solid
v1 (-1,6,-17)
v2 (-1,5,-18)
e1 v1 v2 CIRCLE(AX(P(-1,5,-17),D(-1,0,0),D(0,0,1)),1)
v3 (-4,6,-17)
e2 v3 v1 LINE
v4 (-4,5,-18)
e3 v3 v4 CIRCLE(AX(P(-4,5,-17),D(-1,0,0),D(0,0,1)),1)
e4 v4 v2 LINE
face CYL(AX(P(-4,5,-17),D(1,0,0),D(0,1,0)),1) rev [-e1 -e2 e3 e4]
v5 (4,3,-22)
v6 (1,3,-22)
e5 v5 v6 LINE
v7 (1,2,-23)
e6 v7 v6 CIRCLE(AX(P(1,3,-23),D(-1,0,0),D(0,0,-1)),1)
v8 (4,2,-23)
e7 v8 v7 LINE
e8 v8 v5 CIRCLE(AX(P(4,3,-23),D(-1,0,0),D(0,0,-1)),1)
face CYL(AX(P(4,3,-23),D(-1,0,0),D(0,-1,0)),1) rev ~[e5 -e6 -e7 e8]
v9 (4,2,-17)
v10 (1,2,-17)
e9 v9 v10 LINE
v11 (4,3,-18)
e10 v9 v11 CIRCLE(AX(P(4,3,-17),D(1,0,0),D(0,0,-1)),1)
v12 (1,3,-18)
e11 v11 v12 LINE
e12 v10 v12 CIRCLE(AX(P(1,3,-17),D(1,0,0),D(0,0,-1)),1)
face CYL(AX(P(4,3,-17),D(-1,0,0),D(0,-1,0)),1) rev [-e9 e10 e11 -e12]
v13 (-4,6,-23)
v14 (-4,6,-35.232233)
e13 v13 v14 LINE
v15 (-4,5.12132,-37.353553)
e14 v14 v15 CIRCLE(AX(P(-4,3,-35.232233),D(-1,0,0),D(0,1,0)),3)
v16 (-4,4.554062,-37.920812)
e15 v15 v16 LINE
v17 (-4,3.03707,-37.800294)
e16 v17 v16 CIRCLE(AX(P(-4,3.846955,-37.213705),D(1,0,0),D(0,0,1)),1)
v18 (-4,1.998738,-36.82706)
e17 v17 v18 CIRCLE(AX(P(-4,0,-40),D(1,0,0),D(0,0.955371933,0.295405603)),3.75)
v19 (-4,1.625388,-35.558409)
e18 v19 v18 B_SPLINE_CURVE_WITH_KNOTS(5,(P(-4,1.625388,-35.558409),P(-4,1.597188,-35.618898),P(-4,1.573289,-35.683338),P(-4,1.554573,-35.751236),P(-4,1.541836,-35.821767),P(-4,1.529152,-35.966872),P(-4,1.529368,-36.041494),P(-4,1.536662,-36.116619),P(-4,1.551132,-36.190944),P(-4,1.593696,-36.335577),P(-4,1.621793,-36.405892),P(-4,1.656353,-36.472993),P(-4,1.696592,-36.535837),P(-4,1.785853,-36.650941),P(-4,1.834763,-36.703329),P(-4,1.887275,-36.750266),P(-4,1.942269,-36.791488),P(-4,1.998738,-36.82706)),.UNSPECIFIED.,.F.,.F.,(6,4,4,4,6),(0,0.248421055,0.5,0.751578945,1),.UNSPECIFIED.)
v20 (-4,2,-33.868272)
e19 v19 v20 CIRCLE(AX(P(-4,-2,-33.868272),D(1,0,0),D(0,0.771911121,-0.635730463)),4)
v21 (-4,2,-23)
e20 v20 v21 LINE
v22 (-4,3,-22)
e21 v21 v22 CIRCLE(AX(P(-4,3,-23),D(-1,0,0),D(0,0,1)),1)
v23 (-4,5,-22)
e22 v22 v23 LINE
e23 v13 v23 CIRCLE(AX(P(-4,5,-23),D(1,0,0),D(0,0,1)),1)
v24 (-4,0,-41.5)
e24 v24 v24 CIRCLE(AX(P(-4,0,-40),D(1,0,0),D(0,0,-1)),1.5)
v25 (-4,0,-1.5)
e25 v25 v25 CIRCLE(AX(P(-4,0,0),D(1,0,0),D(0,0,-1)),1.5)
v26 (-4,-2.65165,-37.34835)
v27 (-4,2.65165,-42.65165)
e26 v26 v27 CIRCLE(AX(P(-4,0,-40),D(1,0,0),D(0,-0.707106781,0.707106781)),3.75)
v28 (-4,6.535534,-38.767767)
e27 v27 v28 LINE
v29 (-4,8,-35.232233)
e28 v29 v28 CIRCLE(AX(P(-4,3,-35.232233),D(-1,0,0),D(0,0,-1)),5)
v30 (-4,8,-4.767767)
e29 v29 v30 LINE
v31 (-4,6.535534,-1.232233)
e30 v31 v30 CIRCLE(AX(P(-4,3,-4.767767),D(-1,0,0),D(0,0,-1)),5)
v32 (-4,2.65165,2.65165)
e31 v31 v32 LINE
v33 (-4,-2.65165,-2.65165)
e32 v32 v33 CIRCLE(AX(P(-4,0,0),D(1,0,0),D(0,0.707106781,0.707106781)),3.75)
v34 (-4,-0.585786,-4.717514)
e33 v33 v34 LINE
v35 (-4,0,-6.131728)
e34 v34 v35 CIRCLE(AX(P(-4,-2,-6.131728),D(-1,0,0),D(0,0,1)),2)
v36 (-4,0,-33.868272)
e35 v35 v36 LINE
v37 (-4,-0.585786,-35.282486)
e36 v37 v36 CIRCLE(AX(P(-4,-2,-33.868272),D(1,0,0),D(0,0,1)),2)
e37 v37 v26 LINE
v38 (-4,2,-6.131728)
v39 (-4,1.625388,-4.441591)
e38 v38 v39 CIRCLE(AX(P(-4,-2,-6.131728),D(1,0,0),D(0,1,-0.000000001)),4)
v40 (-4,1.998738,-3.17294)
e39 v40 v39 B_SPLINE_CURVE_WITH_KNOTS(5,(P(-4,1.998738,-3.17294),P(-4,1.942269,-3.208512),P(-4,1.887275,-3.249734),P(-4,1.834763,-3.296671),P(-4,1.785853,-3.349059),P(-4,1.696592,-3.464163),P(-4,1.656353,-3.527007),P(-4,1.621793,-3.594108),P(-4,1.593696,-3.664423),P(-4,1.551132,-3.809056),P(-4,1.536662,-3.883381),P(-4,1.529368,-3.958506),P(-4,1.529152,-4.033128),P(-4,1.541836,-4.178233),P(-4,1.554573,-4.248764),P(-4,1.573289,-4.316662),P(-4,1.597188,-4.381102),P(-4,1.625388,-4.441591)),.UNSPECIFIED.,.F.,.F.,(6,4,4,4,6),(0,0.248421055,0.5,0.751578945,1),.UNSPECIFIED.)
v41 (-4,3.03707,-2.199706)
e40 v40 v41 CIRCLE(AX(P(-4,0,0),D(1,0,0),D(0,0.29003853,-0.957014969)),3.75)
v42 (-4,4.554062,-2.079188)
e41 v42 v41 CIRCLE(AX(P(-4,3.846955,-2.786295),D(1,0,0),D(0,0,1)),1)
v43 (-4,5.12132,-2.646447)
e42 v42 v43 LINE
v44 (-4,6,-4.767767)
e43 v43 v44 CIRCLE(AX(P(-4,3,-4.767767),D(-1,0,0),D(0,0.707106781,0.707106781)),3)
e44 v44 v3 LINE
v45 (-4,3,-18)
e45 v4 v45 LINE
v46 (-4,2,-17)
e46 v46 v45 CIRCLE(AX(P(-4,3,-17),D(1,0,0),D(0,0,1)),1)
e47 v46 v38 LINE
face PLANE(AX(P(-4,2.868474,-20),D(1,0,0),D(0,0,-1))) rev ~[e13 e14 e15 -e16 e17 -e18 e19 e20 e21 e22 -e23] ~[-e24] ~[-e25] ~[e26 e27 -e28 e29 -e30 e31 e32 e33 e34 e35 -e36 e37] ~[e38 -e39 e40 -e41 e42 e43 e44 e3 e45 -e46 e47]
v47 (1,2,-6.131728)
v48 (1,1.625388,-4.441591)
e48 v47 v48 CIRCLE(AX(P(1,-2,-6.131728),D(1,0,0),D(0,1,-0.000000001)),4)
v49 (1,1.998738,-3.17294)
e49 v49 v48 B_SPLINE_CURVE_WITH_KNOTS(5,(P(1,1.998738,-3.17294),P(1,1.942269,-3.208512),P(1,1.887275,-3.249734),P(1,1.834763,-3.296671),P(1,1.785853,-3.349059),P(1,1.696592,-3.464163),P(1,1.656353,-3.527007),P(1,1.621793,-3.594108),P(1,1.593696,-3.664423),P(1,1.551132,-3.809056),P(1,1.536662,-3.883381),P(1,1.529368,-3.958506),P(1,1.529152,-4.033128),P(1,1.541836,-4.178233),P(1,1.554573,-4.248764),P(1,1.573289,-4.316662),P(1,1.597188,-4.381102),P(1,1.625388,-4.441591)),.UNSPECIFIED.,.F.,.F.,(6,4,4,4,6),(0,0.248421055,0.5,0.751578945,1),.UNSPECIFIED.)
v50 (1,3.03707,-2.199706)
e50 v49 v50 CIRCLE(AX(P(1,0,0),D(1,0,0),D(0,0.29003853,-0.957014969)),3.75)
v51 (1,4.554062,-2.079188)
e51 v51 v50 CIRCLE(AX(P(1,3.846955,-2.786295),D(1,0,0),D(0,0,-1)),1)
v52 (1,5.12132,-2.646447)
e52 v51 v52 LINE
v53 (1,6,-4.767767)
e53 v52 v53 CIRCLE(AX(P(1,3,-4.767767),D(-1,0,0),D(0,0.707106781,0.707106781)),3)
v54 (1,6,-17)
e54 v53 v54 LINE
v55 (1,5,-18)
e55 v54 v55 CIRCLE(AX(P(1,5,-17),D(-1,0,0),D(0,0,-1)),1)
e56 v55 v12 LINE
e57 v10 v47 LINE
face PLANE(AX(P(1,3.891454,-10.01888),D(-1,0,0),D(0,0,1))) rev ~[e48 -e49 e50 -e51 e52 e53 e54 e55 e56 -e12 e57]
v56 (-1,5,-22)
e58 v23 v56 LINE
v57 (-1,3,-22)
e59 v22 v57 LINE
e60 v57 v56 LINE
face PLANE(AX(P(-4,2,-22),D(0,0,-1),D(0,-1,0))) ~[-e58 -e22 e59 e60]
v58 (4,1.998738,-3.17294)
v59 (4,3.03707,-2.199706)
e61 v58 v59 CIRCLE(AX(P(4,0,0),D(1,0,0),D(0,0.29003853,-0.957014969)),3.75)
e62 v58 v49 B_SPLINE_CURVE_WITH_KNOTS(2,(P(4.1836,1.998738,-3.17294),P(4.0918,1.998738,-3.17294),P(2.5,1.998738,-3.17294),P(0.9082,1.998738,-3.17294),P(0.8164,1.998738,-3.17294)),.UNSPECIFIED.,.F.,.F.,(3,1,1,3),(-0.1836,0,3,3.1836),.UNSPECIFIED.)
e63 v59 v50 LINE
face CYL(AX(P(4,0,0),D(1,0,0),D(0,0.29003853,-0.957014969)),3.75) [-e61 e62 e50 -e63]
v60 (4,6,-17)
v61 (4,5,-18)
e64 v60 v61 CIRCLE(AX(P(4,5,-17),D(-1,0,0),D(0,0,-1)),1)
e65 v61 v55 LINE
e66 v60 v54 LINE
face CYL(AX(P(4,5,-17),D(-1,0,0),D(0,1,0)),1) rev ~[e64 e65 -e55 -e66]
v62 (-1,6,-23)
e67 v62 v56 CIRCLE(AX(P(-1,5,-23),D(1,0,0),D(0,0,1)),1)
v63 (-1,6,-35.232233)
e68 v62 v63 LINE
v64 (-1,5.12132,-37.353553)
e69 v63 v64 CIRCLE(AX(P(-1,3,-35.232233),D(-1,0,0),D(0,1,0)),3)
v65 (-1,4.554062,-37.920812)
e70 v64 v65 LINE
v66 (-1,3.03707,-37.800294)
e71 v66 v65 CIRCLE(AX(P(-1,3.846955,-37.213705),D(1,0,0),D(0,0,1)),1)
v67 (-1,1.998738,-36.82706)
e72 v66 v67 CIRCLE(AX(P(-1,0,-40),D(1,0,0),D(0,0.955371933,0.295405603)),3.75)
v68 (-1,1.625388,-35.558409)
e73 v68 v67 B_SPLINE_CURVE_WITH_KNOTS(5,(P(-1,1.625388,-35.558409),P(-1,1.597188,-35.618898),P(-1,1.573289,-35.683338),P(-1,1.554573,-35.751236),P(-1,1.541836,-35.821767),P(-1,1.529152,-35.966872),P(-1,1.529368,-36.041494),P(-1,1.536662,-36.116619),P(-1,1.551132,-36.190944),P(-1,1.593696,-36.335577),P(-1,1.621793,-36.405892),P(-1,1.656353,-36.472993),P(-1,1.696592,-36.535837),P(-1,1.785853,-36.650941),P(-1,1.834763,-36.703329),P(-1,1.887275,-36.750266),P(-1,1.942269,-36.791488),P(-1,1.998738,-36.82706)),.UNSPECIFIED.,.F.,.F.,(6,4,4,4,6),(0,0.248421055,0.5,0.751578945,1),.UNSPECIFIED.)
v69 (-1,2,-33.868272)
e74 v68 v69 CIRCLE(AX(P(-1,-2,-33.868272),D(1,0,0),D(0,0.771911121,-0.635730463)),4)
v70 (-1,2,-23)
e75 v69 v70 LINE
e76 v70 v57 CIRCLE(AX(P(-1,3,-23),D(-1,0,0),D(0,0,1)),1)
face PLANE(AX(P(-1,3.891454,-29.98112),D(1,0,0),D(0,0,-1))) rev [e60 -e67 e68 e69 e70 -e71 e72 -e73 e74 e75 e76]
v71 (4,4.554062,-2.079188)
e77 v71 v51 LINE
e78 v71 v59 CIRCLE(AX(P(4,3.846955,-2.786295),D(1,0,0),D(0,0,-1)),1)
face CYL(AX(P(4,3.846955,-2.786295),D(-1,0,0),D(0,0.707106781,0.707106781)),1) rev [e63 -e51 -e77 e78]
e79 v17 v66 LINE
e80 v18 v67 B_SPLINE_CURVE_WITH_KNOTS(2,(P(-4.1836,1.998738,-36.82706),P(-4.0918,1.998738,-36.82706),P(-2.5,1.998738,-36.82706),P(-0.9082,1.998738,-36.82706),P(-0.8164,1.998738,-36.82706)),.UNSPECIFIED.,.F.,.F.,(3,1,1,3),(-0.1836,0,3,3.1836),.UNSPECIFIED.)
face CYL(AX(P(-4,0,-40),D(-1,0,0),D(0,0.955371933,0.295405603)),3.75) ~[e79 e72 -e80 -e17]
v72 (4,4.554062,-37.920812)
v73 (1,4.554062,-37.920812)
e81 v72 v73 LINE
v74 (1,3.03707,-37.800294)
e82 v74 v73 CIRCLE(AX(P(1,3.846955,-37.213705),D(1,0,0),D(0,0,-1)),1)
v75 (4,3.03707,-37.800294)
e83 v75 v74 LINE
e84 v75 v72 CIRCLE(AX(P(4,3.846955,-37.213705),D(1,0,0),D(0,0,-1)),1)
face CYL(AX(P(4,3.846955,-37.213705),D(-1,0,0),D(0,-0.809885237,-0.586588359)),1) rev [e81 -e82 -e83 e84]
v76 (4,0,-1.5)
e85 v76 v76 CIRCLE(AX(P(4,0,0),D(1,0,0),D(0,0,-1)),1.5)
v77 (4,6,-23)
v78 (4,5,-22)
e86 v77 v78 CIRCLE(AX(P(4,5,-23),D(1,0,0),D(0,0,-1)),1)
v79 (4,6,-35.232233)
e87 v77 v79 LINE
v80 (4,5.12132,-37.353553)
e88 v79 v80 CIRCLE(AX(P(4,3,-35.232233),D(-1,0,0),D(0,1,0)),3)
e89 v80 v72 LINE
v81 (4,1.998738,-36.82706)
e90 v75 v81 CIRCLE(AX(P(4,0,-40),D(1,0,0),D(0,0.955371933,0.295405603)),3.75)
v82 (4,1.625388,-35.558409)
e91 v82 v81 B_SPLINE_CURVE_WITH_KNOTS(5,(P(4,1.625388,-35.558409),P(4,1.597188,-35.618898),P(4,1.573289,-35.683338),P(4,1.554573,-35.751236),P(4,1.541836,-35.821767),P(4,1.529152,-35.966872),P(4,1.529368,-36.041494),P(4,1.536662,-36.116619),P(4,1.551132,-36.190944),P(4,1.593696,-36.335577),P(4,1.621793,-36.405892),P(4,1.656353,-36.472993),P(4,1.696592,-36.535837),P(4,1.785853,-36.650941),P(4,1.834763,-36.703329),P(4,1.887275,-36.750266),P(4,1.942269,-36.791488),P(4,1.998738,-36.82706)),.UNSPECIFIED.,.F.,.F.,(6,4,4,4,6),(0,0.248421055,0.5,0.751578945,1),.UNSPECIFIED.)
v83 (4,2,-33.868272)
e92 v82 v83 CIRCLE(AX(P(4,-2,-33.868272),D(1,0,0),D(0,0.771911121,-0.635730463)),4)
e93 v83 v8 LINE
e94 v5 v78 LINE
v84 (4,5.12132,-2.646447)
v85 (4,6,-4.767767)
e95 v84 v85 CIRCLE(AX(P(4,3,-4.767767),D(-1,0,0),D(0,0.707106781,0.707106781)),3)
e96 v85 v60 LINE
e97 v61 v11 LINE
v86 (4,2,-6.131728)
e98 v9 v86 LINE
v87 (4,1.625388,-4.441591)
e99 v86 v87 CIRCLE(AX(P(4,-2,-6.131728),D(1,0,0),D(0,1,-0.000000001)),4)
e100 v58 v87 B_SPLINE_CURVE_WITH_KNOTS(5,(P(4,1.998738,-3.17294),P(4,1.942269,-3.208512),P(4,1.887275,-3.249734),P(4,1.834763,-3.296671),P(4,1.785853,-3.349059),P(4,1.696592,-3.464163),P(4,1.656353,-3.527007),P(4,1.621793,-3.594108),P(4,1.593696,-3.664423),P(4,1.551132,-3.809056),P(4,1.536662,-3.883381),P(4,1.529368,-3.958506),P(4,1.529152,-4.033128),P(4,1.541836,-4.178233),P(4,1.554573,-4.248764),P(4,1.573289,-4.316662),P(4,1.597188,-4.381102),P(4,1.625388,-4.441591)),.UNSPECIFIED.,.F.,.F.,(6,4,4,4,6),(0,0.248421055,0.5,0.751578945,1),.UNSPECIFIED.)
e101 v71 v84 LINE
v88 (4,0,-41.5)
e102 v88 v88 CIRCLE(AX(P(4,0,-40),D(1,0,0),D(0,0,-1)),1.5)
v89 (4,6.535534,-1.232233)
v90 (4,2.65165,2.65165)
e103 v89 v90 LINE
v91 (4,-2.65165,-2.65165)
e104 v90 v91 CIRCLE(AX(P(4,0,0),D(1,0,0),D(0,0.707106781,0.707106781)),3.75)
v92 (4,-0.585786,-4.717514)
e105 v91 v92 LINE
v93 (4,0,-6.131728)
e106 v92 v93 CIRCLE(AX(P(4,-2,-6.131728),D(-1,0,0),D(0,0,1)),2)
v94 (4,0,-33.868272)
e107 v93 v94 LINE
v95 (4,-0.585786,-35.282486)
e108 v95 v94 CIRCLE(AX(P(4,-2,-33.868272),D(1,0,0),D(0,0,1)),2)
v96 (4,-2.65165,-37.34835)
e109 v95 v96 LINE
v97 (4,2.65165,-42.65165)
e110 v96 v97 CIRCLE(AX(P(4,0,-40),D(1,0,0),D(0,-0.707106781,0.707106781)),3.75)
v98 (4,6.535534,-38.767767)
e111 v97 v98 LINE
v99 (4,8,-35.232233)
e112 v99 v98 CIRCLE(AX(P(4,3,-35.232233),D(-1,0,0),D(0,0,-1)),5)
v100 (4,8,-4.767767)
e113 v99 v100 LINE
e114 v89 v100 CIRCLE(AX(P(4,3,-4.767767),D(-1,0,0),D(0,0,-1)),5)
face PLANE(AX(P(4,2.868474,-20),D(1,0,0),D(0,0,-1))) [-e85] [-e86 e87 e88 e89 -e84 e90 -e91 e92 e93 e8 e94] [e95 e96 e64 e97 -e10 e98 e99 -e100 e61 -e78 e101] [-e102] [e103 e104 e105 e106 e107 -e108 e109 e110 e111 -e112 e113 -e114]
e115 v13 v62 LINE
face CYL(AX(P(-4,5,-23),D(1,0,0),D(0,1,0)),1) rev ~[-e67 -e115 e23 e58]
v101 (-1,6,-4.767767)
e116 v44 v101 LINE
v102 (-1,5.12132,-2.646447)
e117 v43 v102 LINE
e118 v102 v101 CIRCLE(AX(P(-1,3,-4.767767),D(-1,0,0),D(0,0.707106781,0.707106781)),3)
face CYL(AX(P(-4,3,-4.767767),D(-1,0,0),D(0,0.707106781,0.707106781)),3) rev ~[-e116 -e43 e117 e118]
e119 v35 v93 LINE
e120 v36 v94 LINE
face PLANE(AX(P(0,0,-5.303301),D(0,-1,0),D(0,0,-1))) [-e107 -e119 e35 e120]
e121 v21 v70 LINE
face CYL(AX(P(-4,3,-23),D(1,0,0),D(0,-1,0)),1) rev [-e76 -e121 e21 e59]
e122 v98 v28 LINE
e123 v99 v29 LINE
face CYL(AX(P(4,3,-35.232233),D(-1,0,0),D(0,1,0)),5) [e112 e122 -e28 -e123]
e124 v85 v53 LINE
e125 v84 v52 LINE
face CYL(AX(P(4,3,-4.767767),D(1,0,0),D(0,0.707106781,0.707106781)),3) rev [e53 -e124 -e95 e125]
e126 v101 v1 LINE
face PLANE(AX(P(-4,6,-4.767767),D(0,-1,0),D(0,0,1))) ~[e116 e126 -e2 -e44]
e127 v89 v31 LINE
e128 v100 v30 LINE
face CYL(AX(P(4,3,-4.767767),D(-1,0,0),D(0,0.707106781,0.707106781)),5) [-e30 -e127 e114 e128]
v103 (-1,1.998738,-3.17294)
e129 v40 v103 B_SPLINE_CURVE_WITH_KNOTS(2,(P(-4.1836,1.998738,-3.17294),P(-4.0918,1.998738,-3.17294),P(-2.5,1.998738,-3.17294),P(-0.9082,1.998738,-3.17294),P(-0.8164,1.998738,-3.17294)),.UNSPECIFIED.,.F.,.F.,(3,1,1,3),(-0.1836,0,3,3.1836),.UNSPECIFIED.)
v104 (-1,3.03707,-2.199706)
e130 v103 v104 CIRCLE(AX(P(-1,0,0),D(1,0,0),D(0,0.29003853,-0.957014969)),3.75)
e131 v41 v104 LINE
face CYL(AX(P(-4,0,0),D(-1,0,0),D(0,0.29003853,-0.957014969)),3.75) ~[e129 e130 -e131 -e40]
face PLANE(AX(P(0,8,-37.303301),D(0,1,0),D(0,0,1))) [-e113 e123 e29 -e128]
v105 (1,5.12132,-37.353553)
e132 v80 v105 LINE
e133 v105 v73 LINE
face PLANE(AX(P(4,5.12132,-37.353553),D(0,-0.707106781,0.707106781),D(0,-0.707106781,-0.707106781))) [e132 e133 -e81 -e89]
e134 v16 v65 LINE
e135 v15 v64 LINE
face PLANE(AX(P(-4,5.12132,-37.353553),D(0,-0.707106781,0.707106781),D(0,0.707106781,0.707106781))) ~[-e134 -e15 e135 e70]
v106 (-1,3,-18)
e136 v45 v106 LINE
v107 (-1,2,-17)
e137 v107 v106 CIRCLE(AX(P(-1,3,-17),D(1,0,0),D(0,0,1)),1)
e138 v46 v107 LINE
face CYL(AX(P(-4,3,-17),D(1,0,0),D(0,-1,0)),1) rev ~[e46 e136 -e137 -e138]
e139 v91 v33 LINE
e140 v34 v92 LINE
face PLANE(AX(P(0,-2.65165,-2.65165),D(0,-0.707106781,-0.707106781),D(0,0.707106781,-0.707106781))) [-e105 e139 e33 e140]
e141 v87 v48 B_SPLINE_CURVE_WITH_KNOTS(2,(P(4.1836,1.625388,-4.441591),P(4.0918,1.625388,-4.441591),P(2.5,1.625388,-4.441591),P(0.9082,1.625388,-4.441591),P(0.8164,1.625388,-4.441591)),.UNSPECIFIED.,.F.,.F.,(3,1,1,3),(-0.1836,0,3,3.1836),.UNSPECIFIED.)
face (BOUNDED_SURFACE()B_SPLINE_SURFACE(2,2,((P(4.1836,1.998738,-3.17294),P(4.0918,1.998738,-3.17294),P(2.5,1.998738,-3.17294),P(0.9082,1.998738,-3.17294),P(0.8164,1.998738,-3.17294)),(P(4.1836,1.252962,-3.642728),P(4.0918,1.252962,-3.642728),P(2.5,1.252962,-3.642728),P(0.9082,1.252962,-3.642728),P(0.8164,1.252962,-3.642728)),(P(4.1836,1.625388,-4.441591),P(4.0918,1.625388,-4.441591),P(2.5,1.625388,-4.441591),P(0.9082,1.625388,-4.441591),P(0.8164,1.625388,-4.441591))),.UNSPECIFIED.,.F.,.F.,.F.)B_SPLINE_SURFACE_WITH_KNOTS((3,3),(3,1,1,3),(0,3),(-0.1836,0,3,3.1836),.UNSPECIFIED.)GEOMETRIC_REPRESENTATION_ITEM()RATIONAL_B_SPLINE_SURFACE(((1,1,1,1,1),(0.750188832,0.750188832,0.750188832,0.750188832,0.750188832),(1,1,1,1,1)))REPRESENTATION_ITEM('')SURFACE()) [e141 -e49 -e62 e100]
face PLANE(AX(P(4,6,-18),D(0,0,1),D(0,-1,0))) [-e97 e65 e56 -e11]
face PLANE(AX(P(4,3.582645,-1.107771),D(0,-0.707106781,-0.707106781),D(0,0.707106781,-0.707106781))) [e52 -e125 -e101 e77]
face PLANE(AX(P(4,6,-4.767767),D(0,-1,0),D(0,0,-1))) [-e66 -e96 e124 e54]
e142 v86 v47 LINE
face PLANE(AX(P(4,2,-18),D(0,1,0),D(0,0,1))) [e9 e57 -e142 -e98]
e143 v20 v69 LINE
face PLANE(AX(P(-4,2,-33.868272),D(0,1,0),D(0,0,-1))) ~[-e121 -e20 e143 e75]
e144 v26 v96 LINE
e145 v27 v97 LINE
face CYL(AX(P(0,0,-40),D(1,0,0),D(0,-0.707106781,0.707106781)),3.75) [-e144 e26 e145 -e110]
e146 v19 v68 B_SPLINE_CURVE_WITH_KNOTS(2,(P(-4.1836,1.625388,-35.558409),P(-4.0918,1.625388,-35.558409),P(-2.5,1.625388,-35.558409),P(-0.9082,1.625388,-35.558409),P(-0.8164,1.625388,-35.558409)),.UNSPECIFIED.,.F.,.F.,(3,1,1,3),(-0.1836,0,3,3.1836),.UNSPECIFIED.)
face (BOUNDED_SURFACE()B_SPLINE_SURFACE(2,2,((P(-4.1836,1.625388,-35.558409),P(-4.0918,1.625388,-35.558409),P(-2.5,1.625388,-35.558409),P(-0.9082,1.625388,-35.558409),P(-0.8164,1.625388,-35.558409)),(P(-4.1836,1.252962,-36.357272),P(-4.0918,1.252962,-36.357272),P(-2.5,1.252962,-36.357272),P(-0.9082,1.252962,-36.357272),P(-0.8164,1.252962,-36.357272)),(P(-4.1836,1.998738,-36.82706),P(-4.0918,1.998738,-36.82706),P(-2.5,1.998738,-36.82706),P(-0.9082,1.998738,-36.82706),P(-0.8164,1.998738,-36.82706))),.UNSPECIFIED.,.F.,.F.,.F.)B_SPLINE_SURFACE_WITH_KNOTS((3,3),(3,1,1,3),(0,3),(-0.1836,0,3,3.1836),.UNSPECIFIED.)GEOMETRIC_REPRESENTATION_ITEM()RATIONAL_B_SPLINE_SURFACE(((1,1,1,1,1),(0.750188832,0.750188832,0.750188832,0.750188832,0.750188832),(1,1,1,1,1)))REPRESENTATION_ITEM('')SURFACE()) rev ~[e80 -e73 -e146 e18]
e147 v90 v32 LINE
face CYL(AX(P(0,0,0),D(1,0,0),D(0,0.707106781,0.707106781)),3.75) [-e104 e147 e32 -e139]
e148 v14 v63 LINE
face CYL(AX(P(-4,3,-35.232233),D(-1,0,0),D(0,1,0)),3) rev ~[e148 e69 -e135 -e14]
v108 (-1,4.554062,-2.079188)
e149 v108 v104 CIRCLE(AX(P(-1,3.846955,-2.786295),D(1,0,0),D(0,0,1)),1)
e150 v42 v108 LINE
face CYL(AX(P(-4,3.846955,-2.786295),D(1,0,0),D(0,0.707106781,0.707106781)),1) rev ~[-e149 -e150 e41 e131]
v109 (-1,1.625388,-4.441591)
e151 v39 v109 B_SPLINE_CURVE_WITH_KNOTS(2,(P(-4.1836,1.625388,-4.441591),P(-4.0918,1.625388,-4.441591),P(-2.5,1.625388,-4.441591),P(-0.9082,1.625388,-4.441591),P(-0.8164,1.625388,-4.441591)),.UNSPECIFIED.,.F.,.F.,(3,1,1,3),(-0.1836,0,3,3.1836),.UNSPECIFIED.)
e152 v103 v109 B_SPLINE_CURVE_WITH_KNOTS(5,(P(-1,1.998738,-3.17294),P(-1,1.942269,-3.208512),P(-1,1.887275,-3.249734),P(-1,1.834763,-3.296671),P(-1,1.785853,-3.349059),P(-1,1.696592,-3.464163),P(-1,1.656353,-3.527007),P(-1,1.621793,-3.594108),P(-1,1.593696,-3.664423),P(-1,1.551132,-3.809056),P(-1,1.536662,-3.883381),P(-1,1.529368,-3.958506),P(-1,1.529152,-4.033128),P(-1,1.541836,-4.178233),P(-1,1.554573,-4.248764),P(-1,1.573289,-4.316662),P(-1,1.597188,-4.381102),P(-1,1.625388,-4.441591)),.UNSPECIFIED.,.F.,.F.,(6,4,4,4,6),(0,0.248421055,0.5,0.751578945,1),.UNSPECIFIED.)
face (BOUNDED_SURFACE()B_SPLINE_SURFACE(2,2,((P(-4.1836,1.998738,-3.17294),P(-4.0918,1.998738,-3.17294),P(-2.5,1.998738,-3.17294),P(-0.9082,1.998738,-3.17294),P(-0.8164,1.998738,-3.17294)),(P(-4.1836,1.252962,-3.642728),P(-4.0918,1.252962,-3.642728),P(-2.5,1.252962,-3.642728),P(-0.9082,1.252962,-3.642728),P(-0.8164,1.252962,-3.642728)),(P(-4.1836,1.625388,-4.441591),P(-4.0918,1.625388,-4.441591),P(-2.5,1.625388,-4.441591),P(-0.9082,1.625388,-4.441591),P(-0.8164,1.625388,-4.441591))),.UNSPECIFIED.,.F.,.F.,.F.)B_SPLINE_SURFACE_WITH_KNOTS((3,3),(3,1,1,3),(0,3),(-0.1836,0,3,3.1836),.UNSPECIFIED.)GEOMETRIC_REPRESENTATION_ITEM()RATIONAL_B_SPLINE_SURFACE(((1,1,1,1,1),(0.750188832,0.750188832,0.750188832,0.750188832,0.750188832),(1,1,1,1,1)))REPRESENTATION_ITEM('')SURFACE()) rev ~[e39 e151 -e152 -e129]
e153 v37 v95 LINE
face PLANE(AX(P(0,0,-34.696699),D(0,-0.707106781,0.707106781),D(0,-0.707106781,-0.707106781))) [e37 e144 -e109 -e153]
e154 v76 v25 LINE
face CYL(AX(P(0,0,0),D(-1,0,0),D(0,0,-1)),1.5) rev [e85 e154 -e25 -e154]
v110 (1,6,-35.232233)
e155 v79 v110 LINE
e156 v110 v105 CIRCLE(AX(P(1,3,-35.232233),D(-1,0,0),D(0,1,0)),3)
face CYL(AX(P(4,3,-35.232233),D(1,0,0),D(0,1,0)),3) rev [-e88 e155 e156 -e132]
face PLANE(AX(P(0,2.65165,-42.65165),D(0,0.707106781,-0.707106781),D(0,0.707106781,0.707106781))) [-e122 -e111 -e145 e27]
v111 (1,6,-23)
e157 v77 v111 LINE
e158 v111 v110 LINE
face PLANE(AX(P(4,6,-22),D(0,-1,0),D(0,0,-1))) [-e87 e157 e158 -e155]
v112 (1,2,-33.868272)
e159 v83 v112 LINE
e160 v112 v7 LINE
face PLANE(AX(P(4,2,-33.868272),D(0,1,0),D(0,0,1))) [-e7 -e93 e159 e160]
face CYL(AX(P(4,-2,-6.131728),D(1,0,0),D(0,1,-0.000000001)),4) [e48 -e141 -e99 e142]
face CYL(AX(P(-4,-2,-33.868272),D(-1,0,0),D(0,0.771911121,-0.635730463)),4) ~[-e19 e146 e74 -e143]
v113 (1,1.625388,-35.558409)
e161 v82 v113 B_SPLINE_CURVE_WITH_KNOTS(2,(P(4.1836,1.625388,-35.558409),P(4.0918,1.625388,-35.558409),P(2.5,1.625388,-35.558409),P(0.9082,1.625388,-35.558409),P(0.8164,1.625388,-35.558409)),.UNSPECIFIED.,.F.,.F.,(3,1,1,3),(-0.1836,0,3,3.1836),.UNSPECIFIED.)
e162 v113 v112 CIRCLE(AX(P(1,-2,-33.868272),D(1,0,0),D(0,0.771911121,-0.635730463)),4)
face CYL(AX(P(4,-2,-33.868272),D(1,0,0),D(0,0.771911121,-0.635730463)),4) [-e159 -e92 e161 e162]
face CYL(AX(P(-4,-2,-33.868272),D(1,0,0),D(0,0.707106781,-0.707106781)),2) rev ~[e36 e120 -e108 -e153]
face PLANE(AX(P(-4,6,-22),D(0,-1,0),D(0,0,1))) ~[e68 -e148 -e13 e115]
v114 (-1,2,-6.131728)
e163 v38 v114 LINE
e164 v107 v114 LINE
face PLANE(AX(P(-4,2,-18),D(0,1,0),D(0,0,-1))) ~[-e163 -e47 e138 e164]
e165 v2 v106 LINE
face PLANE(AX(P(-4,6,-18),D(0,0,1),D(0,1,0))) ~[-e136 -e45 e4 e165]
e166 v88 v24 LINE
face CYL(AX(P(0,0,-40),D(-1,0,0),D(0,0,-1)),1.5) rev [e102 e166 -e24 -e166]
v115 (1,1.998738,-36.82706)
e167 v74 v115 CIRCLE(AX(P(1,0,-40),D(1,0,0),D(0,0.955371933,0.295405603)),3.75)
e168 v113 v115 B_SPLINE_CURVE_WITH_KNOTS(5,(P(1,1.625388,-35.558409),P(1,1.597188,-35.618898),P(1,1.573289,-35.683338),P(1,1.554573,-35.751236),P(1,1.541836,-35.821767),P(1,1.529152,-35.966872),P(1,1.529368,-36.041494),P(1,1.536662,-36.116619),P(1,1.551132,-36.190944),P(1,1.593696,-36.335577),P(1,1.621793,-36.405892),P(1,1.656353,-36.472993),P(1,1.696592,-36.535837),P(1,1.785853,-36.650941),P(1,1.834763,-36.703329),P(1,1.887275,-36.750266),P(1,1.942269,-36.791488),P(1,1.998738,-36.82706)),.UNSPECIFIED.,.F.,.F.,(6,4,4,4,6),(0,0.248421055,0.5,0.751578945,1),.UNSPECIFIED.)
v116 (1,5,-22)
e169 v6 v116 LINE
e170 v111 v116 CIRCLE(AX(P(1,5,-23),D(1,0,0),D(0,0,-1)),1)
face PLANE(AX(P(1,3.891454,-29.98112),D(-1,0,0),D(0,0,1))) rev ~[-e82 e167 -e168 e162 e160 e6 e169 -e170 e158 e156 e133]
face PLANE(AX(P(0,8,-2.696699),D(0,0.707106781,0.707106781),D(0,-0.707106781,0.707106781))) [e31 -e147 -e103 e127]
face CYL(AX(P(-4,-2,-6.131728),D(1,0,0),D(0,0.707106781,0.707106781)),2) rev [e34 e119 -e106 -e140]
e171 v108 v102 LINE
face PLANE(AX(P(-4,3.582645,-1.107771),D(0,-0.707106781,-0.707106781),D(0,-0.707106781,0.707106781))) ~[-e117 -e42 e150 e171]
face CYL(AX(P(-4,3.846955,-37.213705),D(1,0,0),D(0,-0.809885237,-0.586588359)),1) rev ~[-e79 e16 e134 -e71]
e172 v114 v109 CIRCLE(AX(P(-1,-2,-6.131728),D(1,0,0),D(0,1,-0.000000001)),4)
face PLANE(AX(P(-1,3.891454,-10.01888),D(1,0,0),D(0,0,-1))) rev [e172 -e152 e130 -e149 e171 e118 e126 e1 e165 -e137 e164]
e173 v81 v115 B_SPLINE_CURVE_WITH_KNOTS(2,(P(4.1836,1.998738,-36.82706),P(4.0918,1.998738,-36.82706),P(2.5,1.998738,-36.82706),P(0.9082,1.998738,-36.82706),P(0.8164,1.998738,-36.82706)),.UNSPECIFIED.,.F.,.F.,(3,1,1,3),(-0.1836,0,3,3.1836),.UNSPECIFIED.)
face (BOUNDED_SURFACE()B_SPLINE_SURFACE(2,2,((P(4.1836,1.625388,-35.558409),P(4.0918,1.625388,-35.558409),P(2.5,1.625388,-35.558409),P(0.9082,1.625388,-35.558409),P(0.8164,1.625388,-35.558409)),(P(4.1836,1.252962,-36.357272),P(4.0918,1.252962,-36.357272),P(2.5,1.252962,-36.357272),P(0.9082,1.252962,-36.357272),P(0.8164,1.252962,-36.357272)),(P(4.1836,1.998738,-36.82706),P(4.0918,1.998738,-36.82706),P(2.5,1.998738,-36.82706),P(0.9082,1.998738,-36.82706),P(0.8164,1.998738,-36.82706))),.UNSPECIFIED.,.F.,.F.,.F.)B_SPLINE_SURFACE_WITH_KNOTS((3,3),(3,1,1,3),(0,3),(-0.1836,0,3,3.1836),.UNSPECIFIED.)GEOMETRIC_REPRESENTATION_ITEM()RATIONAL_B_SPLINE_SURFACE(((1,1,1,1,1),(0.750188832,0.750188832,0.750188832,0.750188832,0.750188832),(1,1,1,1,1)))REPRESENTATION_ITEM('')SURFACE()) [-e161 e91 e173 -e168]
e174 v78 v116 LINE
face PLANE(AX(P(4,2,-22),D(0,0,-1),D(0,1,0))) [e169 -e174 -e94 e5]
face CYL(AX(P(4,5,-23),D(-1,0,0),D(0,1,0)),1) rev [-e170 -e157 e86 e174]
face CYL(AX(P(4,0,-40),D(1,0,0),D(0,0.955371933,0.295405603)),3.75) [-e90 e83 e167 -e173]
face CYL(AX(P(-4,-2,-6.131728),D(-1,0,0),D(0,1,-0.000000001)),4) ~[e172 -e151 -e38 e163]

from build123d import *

# Parameters (mm, degrees)
SKETCH_1_R          = 1.5
EXTRUDE_1_DEPTH     = 4
FILLET_1_R          = 2
FILLET_2_R          = 5
CUT_EXTRUDE_1_DEPTH = 3
FILLET_3_R          = 1


with BuildPart() as part:
    # 草图1 → 凸台-拉伸1 (new, symmetric)
    with BuildSketch(Plane(origin=(0, 0, 0), x_dir=(0, 0, -1), z_dir=(1, 0, 0))):
        with BuildLine():
            Line((2.651650429, -2.651650429), (5.303300859, 0))
            Line((5.303300859, 0), (34.696699141, 0))
            Line((34.696699141, 0), (37.348349571, -2.651650429))
            ThreePointArc((37.348349571, -2.651650429), (42.651650429, -2.651650429), (42.651650429, 2.651650429))
            Line((42.651650429, 2.651650429), (37.303300859, 8))
            Line((37.303300859, 8), (2.696699141, 8))
            Line((2.696699141, 8), (-2.651650429, 2.651650429))
            ThreePointArc((-2.651650429, 2.651650429), (-2.651650429, -2.651650429), (2.651650429, -2.651650429))
        make_face()
        Circle(SKETCH_1_R, mode=Mode.SUBTRACT)
        with Locations((40, 0)):
            Circle(SKETCH_1_R, mode=Mode.SUBTRACT)
    extrude(amount=EXTRUDE_1_DEPTH, both=True)

    # 圆角1
    fillet_1_edges = [part.edges().sort_by_distance(p)[0] for p in [
        (0, 0, -34.696699141),
        (0, 0, -5.303300859),
    ]]
    fillet(fillet_1_edges, radius=FILLET_1_R)

    # 圆角2
    fillet_2_edges = [part.edges().sort_by_distance(p)[0] for p in [
        (0, 8, -2.696699141),
        (0, 8, -37.303300859),
    ]]
    fillet(fillet_2_edges, radius=FILLET_2_R)

    # 草图2 → 切除-拉伸1 (cut)
    with BuildSketch(Plane(origin=(4, 0, 0), x_dir=(0, 0, -1), z_dir=(1, 0, 0))):
        with BuildLine():
            Line((18, 6), (18, 2))
            Line((18, 2), (6.131727984, 2))
            ThreePointArc((6.131727984, 2), (4.780909332, 1.765008496), (3.588806135, 1.087644486))
            ThreePointArc((3.588806135, 1.087644486), (2.659081759, 2.644198215), (1.107771013, 3.582644747))
            Line((1.107771013, 3.582644747), (2.646446609, 5.121320344))
            ThreePointArc((2.646446609, 5.121320344), (3.619716656, 5.771638598), (4.767766953, 6))
            Line((4.767766953, 6), (18, 6))
        make_face()
        with BuildLine():
            Line((22, 2), (22, 6))
            Line((22, 6), (35.232233047, 6))
            ThreePointArc((35.232233047, 6), (36.380283344, 5.771638598), (37.353553391, 5.121320344))
            Line((37.353553391, 5.121320344), (38.892228987, 3.582644747))
            ThreePointArc((38.892228987, 3.582644747), (37.340918241, 2.644198215), (36.411193865, 1.087644486))
            ThreePointArc((36.411193865, 1.087644486), (35.219090668, 1.765008496), (33.868272016, 2))
            Line((33.868272016, 2), (22, 2))
        make_face()
    cut_extrude_1 = extrude(amount=-CUT_EXTRUDE_1_DEPTH, mode=Mode.SUBTRACT)

    # 镜向1: 切除-拉伸1 across plane
    add(cut_extrude_1.mirror(Plane(origin=(0, 0, 0), x_dir=(0, 0, 1), z_dir=(1, 0, 0))), mode=Mode.SUBTRACT)

    # 圆角3
    fillet_3_edges = [part.edges().sort_by_distance(p)[0] for p in [
        (-2.5, 1.087644486, -36.411193865),
        (-2.5, 3.582644747, -38.892228987),
        (-2.5, 6, -22),
        (-2.5, 2, -22),
        (-2.5, 6, -18),
        (-2.5, 3.582644747, -1.107771013),
        (-2.5, 1.087644486, -3.588806135),
        (-2.5, 2, -18),
        (2.5, 1.087644486, -36.411193865),
        (2.5, 2, -22),
        (2.5, 6, -22),
        (2.5, 3.582644747, -38.892228987),
        (2.5, 6, -18),
        (2.5, 2, -18),
        (2.5, 1.087644486, -3.588806135),
        (2.5, 3.582644747, -1.107771013),
    ]]
    fillet(fillet_3_edges, radius=FILLET_3_R)


solid = part.part
